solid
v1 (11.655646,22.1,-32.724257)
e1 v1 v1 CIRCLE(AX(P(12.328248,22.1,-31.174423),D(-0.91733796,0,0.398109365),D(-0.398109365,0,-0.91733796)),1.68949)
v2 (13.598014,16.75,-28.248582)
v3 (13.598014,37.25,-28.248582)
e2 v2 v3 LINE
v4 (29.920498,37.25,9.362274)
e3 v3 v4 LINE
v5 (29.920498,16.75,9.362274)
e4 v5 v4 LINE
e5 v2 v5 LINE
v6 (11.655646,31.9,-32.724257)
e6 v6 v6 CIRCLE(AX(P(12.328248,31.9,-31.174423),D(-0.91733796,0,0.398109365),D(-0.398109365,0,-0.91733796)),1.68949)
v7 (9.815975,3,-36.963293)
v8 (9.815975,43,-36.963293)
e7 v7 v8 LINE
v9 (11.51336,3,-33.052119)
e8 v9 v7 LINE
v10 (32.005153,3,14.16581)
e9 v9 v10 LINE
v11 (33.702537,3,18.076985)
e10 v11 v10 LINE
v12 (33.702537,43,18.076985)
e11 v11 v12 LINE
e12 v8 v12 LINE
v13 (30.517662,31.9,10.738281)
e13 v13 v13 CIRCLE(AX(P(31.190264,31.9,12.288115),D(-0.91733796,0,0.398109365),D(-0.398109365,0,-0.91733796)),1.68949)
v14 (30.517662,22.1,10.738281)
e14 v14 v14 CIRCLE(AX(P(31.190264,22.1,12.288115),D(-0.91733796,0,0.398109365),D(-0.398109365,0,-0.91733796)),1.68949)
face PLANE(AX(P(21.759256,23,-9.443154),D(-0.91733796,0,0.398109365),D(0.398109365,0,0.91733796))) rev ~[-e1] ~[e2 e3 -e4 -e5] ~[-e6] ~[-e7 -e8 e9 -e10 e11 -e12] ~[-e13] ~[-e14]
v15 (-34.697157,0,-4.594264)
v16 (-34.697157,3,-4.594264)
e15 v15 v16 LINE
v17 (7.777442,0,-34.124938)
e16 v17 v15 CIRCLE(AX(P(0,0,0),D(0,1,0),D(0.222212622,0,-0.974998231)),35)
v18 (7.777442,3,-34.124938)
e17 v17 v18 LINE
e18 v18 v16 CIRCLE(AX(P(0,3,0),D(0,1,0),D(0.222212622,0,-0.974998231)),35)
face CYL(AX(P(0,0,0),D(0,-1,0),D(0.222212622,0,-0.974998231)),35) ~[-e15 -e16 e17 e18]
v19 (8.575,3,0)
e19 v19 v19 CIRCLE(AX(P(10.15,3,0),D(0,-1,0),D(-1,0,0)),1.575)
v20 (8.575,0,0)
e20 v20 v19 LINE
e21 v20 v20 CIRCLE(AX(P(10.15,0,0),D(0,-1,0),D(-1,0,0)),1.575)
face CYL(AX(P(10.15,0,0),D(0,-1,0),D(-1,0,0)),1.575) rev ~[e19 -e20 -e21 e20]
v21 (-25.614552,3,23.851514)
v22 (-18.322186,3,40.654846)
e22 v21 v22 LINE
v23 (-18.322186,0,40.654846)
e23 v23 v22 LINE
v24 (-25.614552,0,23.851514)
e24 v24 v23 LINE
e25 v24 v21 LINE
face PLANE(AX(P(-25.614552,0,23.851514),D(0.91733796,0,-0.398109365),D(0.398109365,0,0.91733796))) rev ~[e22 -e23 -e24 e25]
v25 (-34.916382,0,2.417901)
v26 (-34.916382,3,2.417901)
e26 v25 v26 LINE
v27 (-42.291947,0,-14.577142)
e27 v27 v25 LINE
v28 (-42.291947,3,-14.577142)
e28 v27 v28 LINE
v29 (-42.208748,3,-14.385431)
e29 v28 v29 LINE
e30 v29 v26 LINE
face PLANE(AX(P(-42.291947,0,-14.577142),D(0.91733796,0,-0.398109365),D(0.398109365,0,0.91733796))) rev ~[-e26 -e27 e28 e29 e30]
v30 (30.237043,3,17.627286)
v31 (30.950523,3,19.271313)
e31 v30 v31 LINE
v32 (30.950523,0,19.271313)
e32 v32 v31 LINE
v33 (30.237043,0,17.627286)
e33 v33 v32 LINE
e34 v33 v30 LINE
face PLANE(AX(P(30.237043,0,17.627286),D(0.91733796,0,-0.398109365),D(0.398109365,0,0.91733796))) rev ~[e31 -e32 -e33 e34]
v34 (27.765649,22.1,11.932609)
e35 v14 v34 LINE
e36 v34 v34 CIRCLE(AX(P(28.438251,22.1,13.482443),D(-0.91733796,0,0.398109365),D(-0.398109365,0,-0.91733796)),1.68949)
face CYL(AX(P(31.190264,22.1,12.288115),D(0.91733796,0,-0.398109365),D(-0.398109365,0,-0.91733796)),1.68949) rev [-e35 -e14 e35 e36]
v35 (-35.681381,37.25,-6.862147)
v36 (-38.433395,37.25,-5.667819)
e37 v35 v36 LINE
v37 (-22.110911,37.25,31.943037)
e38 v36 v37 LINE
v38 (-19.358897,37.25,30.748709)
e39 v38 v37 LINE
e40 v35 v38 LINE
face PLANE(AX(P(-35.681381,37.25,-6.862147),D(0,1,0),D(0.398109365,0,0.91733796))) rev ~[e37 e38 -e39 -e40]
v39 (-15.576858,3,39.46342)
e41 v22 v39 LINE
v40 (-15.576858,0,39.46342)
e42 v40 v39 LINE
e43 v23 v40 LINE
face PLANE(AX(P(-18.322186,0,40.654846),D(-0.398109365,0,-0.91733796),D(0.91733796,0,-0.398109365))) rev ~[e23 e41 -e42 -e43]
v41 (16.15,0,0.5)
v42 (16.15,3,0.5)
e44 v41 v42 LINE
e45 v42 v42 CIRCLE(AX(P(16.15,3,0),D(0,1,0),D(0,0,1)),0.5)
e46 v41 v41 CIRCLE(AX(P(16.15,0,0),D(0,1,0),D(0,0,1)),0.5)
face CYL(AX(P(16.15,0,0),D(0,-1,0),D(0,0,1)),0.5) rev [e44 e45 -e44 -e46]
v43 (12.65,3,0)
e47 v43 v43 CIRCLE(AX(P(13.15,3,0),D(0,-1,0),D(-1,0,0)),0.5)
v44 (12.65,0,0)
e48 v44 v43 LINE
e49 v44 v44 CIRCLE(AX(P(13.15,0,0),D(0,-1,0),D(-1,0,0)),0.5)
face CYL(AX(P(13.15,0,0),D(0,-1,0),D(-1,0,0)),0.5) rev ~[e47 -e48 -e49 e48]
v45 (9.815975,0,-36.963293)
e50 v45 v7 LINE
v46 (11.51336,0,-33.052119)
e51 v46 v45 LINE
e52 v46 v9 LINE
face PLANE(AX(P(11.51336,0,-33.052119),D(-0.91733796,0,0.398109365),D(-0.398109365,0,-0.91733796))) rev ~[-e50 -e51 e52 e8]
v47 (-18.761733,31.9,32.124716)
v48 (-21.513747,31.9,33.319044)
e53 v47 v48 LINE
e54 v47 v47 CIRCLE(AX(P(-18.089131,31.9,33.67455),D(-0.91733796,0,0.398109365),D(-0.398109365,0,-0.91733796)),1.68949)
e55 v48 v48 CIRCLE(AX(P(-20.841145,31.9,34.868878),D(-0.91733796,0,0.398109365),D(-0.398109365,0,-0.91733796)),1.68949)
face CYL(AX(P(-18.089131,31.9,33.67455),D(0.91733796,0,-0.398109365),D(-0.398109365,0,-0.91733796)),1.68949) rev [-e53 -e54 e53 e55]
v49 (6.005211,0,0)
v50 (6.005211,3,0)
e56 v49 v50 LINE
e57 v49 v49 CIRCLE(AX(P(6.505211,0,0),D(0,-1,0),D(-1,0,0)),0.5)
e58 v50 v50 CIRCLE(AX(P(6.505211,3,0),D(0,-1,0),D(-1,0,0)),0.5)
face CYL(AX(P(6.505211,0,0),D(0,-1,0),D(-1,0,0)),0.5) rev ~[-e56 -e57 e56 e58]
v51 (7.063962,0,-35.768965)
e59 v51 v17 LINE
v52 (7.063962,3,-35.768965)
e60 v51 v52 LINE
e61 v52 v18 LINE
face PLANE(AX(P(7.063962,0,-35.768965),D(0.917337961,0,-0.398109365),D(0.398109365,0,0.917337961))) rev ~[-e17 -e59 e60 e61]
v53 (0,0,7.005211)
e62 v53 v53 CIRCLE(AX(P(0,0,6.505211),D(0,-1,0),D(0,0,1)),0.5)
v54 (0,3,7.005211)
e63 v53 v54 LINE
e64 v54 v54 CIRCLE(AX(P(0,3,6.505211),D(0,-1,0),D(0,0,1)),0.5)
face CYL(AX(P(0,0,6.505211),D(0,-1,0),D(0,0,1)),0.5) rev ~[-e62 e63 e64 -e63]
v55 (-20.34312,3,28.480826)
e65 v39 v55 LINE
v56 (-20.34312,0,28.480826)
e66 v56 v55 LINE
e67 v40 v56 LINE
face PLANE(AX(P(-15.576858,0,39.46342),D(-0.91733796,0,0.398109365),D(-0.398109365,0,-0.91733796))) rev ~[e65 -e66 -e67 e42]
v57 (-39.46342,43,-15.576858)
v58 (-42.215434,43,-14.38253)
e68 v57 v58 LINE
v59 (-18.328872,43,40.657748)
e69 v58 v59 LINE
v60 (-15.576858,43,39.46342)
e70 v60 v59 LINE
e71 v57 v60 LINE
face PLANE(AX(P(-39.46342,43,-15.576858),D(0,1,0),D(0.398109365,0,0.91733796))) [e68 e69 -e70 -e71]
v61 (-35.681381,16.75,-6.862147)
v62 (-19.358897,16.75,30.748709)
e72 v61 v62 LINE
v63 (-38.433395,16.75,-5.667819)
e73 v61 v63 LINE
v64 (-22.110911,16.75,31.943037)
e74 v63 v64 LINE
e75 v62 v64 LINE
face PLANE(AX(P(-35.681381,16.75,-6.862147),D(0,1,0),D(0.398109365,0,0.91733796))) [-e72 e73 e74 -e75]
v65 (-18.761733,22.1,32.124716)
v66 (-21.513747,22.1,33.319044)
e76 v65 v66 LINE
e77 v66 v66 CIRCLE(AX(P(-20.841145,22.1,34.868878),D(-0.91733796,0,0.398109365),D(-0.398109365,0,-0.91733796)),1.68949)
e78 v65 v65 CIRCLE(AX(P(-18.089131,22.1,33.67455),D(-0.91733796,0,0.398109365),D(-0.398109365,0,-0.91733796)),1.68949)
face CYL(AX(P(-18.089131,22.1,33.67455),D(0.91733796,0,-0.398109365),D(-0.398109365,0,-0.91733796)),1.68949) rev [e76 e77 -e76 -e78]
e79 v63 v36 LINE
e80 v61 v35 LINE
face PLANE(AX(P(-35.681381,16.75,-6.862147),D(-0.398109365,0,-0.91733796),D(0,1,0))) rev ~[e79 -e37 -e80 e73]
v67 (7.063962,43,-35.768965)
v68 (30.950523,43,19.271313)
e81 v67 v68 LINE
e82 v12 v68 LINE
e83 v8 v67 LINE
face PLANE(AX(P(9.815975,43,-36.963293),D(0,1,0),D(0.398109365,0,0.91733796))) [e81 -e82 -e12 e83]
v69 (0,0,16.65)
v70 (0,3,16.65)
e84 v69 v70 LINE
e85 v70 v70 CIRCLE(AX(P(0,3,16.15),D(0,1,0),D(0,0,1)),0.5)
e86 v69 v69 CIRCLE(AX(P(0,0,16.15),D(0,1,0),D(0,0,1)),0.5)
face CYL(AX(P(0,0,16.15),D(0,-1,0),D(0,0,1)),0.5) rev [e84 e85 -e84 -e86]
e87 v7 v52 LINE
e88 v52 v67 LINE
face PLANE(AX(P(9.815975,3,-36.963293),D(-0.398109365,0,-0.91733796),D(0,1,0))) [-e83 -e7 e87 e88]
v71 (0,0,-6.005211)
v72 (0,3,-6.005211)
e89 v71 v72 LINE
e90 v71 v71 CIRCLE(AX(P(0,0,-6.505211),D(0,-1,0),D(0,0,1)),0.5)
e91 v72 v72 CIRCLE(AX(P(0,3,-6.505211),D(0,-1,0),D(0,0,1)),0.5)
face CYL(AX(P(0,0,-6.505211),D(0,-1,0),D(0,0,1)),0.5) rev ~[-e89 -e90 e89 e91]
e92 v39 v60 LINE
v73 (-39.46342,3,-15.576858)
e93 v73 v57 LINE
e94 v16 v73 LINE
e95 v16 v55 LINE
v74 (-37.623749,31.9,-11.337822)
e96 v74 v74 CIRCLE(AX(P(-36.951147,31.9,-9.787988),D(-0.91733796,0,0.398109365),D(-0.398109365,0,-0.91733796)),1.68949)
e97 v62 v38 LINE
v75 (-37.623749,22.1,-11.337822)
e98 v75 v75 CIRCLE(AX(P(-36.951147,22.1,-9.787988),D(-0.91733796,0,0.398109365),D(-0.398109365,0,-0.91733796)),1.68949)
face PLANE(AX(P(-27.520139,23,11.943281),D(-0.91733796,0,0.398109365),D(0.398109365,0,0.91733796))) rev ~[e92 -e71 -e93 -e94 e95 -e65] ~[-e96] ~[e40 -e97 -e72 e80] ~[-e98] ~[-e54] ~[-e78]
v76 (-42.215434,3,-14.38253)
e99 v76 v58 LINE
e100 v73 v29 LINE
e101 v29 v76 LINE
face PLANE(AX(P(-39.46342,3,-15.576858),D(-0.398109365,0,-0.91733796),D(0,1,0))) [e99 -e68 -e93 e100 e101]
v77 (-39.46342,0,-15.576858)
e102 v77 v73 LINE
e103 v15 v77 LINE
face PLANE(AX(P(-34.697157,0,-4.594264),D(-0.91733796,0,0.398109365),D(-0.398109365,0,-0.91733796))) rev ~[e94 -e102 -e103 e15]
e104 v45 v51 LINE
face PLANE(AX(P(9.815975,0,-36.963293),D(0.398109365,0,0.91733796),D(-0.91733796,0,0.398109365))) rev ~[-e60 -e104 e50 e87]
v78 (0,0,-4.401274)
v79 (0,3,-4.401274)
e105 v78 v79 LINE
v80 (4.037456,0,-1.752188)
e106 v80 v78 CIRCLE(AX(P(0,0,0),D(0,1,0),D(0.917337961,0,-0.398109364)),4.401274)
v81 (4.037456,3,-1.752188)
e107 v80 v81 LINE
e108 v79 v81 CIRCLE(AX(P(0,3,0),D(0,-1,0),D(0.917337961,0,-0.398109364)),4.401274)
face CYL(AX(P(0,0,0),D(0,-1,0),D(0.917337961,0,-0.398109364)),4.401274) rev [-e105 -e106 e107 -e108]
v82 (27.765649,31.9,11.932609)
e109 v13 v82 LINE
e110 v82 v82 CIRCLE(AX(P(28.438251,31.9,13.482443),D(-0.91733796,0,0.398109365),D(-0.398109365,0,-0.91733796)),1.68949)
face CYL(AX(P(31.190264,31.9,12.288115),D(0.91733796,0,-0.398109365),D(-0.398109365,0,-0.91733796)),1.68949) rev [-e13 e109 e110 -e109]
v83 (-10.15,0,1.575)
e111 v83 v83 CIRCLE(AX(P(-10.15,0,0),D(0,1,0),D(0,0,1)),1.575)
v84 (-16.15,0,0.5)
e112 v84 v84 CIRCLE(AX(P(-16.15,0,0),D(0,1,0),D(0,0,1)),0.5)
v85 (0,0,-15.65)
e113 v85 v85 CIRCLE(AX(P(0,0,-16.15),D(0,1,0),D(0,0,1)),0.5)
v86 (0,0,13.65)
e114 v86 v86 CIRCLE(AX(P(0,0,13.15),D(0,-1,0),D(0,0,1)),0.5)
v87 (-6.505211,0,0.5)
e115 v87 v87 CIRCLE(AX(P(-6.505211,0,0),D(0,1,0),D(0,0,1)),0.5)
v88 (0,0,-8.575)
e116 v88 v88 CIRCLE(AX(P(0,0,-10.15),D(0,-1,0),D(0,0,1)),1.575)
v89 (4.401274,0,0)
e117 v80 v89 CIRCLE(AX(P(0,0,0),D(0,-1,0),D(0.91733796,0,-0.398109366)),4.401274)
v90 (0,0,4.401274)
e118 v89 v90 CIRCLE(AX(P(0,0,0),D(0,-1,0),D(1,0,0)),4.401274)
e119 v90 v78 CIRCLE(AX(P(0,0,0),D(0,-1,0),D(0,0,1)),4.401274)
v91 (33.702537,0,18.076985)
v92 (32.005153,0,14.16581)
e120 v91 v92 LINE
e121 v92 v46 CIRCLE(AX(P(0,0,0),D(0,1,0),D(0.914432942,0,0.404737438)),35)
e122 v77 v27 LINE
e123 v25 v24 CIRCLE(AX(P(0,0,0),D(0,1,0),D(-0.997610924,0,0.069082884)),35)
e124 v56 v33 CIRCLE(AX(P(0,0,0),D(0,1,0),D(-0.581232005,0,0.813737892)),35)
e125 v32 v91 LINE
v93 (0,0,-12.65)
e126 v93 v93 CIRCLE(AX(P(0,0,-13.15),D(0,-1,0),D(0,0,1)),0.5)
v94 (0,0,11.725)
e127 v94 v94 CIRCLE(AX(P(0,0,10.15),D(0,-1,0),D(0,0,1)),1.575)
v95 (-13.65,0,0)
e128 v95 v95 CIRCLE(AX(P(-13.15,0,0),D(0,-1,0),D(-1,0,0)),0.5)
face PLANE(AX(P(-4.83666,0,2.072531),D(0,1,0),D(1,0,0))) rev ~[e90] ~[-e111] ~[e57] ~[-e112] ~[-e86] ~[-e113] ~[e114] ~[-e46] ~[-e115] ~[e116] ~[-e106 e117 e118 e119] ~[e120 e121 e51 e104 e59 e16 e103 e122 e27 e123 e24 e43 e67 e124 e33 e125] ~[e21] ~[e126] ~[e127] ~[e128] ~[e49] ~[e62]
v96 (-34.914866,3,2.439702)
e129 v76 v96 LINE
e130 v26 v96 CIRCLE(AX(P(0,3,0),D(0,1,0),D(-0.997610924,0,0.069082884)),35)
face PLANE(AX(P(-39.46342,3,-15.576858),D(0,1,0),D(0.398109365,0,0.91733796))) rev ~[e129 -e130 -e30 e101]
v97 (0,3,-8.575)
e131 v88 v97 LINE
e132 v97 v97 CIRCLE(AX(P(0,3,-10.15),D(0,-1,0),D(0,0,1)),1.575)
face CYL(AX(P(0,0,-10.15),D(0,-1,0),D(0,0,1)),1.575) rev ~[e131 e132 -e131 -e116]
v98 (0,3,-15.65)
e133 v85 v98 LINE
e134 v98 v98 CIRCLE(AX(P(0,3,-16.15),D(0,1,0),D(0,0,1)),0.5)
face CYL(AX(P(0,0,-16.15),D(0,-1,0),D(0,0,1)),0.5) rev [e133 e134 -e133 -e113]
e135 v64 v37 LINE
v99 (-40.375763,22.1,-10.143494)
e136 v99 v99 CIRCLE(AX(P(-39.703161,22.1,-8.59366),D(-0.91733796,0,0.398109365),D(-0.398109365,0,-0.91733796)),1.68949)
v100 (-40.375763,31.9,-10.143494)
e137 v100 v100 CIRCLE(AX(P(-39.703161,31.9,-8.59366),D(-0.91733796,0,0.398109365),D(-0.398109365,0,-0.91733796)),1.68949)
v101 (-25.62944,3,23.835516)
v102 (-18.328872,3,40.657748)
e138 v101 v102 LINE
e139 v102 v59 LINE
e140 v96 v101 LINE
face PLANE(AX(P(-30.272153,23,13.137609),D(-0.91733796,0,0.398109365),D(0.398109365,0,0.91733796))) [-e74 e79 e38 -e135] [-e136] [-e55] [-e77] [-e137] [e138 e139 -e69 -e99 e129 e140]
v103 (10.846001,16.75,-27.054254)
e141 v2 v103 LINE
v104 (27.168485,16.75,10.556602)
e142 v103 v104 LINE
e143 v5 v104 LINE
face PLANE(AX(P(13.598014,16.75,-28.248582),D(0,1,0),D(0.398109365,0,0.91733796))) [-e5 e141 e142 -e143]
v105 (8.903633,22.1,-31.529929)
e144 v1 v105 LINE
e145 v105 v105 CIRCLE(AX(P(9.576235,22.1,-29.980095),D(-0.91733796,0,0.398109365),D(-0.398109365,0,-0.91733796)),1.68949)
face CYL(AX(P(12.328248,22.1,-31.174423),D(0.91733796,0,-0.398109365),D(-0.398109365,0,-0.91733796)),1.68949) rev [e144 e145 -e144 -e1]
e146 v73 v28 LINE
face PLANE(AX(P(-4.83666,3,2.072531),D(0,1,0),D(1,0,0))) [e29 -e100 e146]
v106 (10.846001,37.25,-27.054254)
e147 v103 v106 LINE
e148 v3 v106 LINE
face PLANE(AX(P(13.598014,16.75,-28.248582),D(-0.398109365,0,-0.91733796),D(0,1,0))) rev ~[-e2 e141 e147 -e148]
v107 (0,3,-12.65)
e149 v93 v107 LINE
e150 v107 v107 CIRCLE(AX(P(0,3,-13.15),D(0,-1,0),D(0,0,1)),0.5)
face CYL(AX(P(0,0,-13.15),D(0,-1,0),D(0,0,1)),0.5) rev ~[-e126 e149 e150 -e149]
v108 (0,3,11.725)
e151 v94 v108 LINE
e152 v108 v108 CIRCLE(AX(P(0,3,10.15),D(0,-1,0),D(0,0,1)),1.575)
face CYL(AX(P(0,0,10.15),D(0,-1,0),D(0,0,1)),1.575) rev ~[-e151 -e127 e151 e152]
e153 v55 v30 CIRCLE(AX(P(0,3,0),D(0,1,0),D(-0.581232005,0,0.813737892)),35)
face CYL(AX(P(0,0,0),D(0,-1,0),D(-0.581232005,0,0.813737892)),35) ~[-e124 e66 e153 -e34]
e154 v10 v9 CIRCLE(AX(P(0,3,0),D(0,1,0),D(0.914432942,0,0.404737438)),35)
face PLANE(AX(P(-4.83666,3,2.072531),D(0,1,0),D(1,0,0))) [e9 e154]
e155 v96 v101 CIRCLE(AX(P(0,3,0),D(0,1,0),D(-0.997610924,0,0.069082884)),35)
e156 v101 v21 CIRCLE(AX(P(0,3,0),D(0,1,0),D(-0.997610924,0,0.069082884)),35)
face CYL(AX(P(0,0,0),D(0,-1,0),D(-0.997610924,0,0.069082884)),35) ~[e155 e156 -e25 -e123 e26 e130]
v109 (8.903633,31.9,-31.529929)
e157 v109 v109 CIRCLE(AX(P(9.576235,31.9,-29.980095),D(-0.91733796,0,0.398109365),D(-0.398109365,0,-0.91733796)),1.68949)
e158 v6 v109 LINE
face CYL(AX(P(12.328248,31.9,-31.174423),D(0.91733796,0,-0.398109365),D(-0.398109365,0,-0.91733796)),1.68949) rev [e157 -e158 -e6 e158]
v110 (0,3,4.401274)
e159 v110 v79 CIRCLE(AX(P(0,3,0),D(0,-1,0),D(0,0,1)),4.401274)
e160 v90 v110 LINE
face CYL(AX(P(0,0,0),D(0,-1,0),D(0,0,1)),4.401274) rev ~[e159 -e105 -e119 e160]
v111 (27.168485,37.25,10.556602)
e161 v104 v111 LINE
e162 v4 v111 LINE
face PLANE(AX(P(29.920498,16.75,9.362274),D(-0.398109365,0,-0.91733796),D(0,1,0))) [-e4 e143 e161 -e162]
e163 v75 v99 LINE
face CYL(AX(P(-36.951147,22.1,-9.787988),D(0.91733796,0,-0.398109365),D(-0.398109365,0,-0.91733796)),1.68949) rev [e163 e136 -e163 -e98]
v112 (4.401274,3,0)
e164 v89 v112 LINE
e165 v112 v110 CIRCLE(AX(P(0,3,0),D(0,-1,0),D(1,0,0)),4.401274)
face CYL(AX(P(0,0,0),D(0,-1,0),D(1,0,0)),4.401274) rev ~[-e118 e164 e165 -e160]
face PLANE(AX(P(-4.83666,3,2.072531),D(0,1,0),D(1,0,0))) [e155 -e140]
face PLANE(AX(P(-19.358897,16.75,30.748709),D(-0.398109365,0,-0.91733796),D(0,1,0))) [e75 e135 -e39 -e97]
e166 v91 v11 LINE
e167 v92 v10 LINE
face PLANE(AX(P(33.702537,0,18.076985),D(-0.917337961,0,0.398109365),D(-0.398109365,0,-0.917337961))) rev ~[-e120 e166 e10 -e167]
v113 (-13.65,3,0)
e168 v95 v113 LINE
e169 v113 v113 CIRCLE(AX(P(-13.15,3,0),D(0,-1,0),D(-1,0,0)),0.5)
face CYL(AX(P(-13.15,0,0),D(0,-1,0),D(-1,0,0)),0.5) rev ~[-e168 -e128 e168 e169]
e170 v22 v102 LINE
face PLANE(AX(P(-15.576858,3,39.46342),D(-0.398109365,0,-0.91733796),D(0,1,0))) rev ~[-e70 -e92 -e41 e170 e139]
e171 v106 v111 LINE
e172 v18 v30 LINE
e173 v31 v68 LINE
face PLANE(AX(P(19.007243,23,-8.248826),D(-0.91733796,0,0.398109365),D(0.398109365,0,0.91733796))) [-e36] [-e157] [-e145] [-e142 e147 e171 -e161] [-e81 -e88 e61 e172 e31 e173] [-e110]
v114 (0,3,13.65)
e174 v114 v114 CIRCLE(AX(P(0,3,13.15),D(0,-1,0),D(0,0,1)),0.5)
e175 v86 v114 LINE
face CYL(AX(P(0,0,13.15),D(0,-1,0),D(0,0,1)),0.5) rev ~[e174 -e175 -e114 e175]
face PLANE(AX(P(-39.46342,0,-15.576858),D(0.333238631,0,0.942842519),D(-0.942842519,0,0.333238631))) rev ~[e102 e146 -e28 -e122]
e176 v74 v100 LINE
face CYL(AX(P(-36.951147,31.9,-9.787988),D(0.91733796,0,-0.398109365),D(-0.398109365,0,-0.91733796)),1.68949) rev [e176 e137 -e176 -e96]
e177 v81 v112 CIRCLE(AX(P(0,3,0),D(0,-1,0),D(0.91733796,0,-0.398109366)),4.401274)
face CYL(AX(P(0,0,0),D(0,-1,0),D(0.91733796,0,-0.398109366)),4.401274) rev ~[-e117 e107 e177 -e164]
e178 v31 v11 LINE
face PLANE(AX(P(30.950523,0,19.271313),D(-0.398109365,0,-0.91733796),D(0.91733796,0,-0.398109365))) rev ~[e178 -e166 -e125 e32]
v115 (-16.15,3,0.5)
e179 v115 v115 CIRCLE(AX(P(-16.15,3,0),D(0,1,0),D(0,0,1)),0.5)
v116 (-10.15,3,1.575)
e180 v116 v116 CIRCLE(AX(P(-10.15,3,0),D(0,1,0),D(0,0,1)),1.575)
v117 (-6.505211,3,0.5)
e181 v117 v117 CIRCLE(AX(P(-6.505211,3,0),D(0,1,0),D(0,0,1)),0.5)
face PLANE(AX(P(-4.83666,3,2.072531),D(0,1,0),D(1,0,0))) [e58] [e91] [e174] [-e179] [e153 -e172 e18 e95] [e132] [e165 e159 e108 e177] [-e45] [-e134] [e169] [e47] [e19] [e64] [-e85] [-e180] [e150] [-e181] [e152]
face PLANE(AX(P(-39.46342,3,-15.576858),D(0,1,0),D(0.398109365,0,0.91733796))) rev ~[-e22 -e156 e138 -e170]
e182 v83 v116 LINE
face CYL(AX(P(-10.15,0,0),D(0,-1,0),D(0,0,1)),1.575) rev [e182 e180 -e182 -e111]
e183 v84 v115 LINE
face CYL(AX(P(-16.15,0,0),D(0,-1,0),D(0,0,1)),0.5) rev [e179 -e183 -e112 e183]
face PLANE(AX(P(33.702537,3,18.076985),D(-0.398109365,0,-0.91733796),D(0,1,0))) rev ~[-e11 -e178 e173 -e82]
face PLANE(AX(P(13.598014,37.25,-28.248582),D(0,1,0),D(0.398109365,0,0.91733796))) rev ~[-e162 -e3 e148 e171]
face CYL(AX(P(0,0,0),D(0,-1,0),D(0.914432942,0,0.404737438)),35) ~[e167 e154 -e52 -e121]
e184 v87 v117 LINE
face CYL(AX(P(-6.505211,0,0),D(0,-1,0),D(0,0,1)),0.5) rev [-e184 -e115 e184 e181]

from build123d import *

# Parameters (mm, degrees)
SKETCH1_R           = 0.5
SKETCH1_R_2         = 1.575
BOSS_EXTRUDE1_DEPTH = 3
BOSS_EXTRUDE2_START = 30
SKETCH2_W           = 60
SKETCH2_H           = 40
SKETCH2_R           = 1.689490446
SKETCH2_W_2         = 41
SKETCH2_H_2         = 20.5
BOSS_EXTRUDE2_DEPTH = 3
BOSS_EXTRUDE3_START = -23.72
SKETCH2_2_W         = 60
SKETCH2_2_H         = 40
SKETCH2_2_R         = 1.689490446
SKETCH2_2_W_2       = 41
SKETCH2_2_H_2       = 20.5
BOSS_EXTRUDE3_DEPTH = 3
CUT_EXTRUDE1_DEPTH  = 10


with BuildPart() as part:
    # Sketch1 → Boss-Extrude1 (new body)
    with BuildSketch(Plane(origin=(0, 0, 0), x_dir=(1, 0, 0), z_dir=(0, 1, 0))):
        with BuildLine():
            Line((33.702537367, -18.076984677), (32.005152982, -14.165810341))
            ThreePointArc((32.005152982, -14.165810341), (32.106828614, 13.933827771), (11.51335986, 33.052118612))
            Line((11.51335986, 33.052118612), (9.815975474, 36.963292947))
            Line((9.815975474, 36.963292947), (7.063961593, 35.768964852))
            Line((7.063961593, 35.768964852), (7.77744177, 34.124938088))
            ThreePointArc((7.77744177, 34.124938088), (-19.979563219, 28.73703279), (-34.697157454, 4.594264319))
            Line((-34.697157454, 4.594264319), (-39.463419759, 15.576857865))
            Line((-39.463419759, 15.576857865), (-42.291947314, 14.577141972))
            Line((-42.291947314, 14.577141972), (-34.916382331, -2.417900937))
            ThreePointArc((-34.916382331, -2.417900937), (-32.106828614, -13.933827771), (-25.614551861, -23.85151427))
            Line((-25.614551861, -23.85151427), (-18.322186149, -40.654846416))
            Line((-18.322186149, -40.654846416), (-15.576857865, -39.463419759))
            Line((-15.576857865, -39.463419759), (-20.34312017, -28.480826213))
            ThreePointArc((-20.34312017, -28.480826213), (7.343177958, -34.221013098), (30.237043308, -17.627286007))
            Line((30.237043308, -17.627286007), (30.950523486, -19.271312771))
            Line((30.950523486, -19.271312771), (33.702537367, -18.076984677))
        make_face()
        with Locations(Location((0, -16.15, 0), (0, 0, 270))):
            Circle(SKETCH1_R, mode=Mode.SUBTRACT)
        with BuildLine():
            ThreePointArc((0, -12.65), (0.5, -13.15), (0, -13.65))
            ThreePointArc((0, -13.65), (-0.5, -13.15), (0, -12.65))
        make_face(mode=Mode.SUBTRACT)
        with BuildLine():
            ThreePointArc((0, -8.575), (1.575, -10.15), (0, -11.725))
            ThreePointArc((0, -11.725), (-1.575, -10.15), (0, -8.575))
        make_face(mode=Mode.SUBTRACT)
        with BuildLine():
            ThreePointArc((0, -6.005210608), (0.5, -6.505210608), (0, -7.005210608))
            ThreePointArc((0, -7.005210608), (-0.5, -6.505210608), (0, -6.005210608))
        make_face(mode=Mode.SUBTRACT)
        with BuildLine():
            ThreePointArc((11.725, 0), (10.15, -1.575), (8.575, 0))
            ThreePointArc((8.575, 0), (10.15, 1.575), (11.725, 0))
        make_face(mode=Mode.SUBTRACT)
        with Locations(Location((-16.15, 0, 0), (0, 0, 270))):
            Circle(SKETCH1_R, mode=Mode.SUBTRACT)
        with BuildLine():
            ThreePointArc((-12.65, 0), (-13.15, -0.5), (-13.65, 0))
            ThreePointArc((-13.65, 0), (-13.15, 0.5), (-12.65, 0))
        make_face(mode=Mode.SUBTRACT)
        with Locations(Location((-10.15, 0, 0), (0, 0, 270))):
            Circle(SKETCH1_R_2, mode=Mode.SUBTRACT)
        with Locations(Location((-6.505210608, 0, 0), (0, 0, 270))):
            Circle(SKETCH1_R, mode=Mode.SUBTRACT)
        with BuildLine():
            ThreePointArc((4.401273885, 0), (3.11217061, -3.11217061), (0, -4.401273885))
            ThreePointArc((0, -4.401273885), (-4.401273885, 0), (0, 4.401273885))
            Line((0, 4.401273885), (0, 0))
            Line((0, 0), (4.037455609, 1.752188351))
            ThreePointArc((4.037455609, 1.752188351), (4.309359567, 0.894780386), (4.401273885, 0))
        make_face(mode=Mode.SUBTRACT)
        with BuildLine():
            ThreePointArc((7.005210608, 0), (6.505210608, -0.5), (6.005210608, 0))
            ThreePointArc((6.005210608, 0), (6.505210608, 0.5), (7.005210608, 0))
        make_face(mode=Mode.SUBTRACT)
        with BuildLine():
            ThreePointArc((0, 7.005210608), (0.5, 6.505210608), (0, 6.005210608))
            ThreePointArc((0, 6.005210608), (-0.5, 6.505210608), (0, 7.005210608))
        make_face(mode=Mode.SUBTRACT)
        with BuildLine():
            ThreePointArc((13.65, 0), (13.15, -0.5), (12.65, 0))
            ThreePointArc((12.65, 0), (13.15, 0.5), (13.65, 0))
        make_face(mode=Mode.SUBTRACT)
        with Locations(Location((16.15, 0, 0), (0, 0, 270))):
            Circle(SKETCH1_R, mode=Mode.SUBTRACT)
        with BuildLine():
            ThreePointArc((0, 11.725), (1.575, 10.15), (0, 8.575))
            ThreePointArc((0, 8.575), (-1.575, 10.15), (0, 11.725))
        make_face(mode=Mode.SUBTRACT)
        with BuildLine():
            ThreePointArc((0, 13.65), (0.5, 13.15), (0, 12.65))
            ThreePointArc((0, 12.65), (-0.5, 13.15), (0, 13.65))
        make_face(mode=Mode.SUBTRACT)
        with Locations(Location((0, 16.15, 0), (0, 0, 270))):
            Circle(SKETCH1_R, mode=Mode.SUBTRACT)
    extrude(amount=BOSS_EXTRUDE1_DEPTH)

    # Sketch2 → Boss-Extrude2 (add)
    with BuildSketch(Plane(origin=(0, 0, 0), x_dir=(0.3981093648941227, 0, 0.9173379603960573), z_dir=(-0.9173379603960573, 0, 0.3981093648941227)).offset(BOSS_EXTRUDE2_START)):
        with Locations((0, 23)):
            Rectangle(SKETCH2_W, SKETCH2_H)
        with Locations(Location((-23.689490446, 31.9, 0), (0, 0, 180))):
            Circle(SKETCH2_R, mode=Mode.SUBTRACT)
        with Locations(Location((-23.689490446, 22.1, 0), (0, 0, 180))):
            Circle(SKETCH2_R, mode=Mode.SUBTRACT)
        with Locations(Location((23.689490446, 22.1, 0), (0, 0, 180))):
            Circle(SKETCH2_R, mode=Mode.SUBTRACT)
        with Locations(Location((23.689490446, 31.9, 0), (0, 0, 180))):
            Circle(SKETCH2_R, mode=Mode.SUBTRACT)
        with Locations((0, 27)):
            Rectangle(SKETCH2_W_2, SKETCH2_H_2, mode=Mode.SUBTRACT)
    extrude(amount=BOSS_EXTRUDE2_DEPTH)

    # Sketch2<2> → Boss-Extrude3 (add)
    with BuildSketch(Plane(origin=(0, 0, 0), x_dir=(0.3981093648941227, 0, 0.9173379603960573), z_dir=(-0.9173379603960573, 0, 0.3981093648941227)).offset(BOSS_EXTRUDE3_START)):
        with Locations((0, 23)):
            Rectangle(SKETCH2_2_W, SKETCH2_2_H)
        with Locations(Location((-23.689490446, 31.9, 0), (0, 0, 180))):
            Circle(SKETCH2_2_R, mode=Mode.SUBTRACT)
        with Locations(Location((-23.689490446, 22.1, 0), (0, 0, 180))):
            Circle(SKETCH2_2_R, mode=Mode.SUBTRACT)
        with Locations(Location((23.689490446, 22.1, 0), (0, 0, 180))):
            Circle(SKETCH2_2_R, mode=Mode.SUBTRACT)
        with Locations(Location((23.689490446, 31.9, 0), (0, 0, 180))):
            Circle(SKETCH2_2_R, mode=Mode.SUBTRACT)
        with Locations((0, 27)):
            Rectangle(SKETCH2_2_W_2, SKETCH2_2_H_2, mode=Mode.SUBTRACT)
    extrude(amount=BOSS_EXTRUDE3_DEPTH)

    # Sketch1<3> → Cut-Extrude1 (cut)
    with BuildSketch(Plane(origin=(0, 0, 0), x_dir=(1, 0, 0), z_dir=(0, 1, 0))):
        with BuildLine():
            Line((0, 1.313954222), (0, 0))
            Line((0, 0), (4.037455609, 1.752188351))
            ThreePointArc((4.037455609, 1.752188351), (2.414472094, 3.679882651), (0, 4.401273885))
            Line((0, 4.401273885), (0, 1.313954222))
        make_face()
    extrude(amount=CUT_EXTRUDE1_DEPTH, mode=Mode.SUBTRACT)


solid = part.part
